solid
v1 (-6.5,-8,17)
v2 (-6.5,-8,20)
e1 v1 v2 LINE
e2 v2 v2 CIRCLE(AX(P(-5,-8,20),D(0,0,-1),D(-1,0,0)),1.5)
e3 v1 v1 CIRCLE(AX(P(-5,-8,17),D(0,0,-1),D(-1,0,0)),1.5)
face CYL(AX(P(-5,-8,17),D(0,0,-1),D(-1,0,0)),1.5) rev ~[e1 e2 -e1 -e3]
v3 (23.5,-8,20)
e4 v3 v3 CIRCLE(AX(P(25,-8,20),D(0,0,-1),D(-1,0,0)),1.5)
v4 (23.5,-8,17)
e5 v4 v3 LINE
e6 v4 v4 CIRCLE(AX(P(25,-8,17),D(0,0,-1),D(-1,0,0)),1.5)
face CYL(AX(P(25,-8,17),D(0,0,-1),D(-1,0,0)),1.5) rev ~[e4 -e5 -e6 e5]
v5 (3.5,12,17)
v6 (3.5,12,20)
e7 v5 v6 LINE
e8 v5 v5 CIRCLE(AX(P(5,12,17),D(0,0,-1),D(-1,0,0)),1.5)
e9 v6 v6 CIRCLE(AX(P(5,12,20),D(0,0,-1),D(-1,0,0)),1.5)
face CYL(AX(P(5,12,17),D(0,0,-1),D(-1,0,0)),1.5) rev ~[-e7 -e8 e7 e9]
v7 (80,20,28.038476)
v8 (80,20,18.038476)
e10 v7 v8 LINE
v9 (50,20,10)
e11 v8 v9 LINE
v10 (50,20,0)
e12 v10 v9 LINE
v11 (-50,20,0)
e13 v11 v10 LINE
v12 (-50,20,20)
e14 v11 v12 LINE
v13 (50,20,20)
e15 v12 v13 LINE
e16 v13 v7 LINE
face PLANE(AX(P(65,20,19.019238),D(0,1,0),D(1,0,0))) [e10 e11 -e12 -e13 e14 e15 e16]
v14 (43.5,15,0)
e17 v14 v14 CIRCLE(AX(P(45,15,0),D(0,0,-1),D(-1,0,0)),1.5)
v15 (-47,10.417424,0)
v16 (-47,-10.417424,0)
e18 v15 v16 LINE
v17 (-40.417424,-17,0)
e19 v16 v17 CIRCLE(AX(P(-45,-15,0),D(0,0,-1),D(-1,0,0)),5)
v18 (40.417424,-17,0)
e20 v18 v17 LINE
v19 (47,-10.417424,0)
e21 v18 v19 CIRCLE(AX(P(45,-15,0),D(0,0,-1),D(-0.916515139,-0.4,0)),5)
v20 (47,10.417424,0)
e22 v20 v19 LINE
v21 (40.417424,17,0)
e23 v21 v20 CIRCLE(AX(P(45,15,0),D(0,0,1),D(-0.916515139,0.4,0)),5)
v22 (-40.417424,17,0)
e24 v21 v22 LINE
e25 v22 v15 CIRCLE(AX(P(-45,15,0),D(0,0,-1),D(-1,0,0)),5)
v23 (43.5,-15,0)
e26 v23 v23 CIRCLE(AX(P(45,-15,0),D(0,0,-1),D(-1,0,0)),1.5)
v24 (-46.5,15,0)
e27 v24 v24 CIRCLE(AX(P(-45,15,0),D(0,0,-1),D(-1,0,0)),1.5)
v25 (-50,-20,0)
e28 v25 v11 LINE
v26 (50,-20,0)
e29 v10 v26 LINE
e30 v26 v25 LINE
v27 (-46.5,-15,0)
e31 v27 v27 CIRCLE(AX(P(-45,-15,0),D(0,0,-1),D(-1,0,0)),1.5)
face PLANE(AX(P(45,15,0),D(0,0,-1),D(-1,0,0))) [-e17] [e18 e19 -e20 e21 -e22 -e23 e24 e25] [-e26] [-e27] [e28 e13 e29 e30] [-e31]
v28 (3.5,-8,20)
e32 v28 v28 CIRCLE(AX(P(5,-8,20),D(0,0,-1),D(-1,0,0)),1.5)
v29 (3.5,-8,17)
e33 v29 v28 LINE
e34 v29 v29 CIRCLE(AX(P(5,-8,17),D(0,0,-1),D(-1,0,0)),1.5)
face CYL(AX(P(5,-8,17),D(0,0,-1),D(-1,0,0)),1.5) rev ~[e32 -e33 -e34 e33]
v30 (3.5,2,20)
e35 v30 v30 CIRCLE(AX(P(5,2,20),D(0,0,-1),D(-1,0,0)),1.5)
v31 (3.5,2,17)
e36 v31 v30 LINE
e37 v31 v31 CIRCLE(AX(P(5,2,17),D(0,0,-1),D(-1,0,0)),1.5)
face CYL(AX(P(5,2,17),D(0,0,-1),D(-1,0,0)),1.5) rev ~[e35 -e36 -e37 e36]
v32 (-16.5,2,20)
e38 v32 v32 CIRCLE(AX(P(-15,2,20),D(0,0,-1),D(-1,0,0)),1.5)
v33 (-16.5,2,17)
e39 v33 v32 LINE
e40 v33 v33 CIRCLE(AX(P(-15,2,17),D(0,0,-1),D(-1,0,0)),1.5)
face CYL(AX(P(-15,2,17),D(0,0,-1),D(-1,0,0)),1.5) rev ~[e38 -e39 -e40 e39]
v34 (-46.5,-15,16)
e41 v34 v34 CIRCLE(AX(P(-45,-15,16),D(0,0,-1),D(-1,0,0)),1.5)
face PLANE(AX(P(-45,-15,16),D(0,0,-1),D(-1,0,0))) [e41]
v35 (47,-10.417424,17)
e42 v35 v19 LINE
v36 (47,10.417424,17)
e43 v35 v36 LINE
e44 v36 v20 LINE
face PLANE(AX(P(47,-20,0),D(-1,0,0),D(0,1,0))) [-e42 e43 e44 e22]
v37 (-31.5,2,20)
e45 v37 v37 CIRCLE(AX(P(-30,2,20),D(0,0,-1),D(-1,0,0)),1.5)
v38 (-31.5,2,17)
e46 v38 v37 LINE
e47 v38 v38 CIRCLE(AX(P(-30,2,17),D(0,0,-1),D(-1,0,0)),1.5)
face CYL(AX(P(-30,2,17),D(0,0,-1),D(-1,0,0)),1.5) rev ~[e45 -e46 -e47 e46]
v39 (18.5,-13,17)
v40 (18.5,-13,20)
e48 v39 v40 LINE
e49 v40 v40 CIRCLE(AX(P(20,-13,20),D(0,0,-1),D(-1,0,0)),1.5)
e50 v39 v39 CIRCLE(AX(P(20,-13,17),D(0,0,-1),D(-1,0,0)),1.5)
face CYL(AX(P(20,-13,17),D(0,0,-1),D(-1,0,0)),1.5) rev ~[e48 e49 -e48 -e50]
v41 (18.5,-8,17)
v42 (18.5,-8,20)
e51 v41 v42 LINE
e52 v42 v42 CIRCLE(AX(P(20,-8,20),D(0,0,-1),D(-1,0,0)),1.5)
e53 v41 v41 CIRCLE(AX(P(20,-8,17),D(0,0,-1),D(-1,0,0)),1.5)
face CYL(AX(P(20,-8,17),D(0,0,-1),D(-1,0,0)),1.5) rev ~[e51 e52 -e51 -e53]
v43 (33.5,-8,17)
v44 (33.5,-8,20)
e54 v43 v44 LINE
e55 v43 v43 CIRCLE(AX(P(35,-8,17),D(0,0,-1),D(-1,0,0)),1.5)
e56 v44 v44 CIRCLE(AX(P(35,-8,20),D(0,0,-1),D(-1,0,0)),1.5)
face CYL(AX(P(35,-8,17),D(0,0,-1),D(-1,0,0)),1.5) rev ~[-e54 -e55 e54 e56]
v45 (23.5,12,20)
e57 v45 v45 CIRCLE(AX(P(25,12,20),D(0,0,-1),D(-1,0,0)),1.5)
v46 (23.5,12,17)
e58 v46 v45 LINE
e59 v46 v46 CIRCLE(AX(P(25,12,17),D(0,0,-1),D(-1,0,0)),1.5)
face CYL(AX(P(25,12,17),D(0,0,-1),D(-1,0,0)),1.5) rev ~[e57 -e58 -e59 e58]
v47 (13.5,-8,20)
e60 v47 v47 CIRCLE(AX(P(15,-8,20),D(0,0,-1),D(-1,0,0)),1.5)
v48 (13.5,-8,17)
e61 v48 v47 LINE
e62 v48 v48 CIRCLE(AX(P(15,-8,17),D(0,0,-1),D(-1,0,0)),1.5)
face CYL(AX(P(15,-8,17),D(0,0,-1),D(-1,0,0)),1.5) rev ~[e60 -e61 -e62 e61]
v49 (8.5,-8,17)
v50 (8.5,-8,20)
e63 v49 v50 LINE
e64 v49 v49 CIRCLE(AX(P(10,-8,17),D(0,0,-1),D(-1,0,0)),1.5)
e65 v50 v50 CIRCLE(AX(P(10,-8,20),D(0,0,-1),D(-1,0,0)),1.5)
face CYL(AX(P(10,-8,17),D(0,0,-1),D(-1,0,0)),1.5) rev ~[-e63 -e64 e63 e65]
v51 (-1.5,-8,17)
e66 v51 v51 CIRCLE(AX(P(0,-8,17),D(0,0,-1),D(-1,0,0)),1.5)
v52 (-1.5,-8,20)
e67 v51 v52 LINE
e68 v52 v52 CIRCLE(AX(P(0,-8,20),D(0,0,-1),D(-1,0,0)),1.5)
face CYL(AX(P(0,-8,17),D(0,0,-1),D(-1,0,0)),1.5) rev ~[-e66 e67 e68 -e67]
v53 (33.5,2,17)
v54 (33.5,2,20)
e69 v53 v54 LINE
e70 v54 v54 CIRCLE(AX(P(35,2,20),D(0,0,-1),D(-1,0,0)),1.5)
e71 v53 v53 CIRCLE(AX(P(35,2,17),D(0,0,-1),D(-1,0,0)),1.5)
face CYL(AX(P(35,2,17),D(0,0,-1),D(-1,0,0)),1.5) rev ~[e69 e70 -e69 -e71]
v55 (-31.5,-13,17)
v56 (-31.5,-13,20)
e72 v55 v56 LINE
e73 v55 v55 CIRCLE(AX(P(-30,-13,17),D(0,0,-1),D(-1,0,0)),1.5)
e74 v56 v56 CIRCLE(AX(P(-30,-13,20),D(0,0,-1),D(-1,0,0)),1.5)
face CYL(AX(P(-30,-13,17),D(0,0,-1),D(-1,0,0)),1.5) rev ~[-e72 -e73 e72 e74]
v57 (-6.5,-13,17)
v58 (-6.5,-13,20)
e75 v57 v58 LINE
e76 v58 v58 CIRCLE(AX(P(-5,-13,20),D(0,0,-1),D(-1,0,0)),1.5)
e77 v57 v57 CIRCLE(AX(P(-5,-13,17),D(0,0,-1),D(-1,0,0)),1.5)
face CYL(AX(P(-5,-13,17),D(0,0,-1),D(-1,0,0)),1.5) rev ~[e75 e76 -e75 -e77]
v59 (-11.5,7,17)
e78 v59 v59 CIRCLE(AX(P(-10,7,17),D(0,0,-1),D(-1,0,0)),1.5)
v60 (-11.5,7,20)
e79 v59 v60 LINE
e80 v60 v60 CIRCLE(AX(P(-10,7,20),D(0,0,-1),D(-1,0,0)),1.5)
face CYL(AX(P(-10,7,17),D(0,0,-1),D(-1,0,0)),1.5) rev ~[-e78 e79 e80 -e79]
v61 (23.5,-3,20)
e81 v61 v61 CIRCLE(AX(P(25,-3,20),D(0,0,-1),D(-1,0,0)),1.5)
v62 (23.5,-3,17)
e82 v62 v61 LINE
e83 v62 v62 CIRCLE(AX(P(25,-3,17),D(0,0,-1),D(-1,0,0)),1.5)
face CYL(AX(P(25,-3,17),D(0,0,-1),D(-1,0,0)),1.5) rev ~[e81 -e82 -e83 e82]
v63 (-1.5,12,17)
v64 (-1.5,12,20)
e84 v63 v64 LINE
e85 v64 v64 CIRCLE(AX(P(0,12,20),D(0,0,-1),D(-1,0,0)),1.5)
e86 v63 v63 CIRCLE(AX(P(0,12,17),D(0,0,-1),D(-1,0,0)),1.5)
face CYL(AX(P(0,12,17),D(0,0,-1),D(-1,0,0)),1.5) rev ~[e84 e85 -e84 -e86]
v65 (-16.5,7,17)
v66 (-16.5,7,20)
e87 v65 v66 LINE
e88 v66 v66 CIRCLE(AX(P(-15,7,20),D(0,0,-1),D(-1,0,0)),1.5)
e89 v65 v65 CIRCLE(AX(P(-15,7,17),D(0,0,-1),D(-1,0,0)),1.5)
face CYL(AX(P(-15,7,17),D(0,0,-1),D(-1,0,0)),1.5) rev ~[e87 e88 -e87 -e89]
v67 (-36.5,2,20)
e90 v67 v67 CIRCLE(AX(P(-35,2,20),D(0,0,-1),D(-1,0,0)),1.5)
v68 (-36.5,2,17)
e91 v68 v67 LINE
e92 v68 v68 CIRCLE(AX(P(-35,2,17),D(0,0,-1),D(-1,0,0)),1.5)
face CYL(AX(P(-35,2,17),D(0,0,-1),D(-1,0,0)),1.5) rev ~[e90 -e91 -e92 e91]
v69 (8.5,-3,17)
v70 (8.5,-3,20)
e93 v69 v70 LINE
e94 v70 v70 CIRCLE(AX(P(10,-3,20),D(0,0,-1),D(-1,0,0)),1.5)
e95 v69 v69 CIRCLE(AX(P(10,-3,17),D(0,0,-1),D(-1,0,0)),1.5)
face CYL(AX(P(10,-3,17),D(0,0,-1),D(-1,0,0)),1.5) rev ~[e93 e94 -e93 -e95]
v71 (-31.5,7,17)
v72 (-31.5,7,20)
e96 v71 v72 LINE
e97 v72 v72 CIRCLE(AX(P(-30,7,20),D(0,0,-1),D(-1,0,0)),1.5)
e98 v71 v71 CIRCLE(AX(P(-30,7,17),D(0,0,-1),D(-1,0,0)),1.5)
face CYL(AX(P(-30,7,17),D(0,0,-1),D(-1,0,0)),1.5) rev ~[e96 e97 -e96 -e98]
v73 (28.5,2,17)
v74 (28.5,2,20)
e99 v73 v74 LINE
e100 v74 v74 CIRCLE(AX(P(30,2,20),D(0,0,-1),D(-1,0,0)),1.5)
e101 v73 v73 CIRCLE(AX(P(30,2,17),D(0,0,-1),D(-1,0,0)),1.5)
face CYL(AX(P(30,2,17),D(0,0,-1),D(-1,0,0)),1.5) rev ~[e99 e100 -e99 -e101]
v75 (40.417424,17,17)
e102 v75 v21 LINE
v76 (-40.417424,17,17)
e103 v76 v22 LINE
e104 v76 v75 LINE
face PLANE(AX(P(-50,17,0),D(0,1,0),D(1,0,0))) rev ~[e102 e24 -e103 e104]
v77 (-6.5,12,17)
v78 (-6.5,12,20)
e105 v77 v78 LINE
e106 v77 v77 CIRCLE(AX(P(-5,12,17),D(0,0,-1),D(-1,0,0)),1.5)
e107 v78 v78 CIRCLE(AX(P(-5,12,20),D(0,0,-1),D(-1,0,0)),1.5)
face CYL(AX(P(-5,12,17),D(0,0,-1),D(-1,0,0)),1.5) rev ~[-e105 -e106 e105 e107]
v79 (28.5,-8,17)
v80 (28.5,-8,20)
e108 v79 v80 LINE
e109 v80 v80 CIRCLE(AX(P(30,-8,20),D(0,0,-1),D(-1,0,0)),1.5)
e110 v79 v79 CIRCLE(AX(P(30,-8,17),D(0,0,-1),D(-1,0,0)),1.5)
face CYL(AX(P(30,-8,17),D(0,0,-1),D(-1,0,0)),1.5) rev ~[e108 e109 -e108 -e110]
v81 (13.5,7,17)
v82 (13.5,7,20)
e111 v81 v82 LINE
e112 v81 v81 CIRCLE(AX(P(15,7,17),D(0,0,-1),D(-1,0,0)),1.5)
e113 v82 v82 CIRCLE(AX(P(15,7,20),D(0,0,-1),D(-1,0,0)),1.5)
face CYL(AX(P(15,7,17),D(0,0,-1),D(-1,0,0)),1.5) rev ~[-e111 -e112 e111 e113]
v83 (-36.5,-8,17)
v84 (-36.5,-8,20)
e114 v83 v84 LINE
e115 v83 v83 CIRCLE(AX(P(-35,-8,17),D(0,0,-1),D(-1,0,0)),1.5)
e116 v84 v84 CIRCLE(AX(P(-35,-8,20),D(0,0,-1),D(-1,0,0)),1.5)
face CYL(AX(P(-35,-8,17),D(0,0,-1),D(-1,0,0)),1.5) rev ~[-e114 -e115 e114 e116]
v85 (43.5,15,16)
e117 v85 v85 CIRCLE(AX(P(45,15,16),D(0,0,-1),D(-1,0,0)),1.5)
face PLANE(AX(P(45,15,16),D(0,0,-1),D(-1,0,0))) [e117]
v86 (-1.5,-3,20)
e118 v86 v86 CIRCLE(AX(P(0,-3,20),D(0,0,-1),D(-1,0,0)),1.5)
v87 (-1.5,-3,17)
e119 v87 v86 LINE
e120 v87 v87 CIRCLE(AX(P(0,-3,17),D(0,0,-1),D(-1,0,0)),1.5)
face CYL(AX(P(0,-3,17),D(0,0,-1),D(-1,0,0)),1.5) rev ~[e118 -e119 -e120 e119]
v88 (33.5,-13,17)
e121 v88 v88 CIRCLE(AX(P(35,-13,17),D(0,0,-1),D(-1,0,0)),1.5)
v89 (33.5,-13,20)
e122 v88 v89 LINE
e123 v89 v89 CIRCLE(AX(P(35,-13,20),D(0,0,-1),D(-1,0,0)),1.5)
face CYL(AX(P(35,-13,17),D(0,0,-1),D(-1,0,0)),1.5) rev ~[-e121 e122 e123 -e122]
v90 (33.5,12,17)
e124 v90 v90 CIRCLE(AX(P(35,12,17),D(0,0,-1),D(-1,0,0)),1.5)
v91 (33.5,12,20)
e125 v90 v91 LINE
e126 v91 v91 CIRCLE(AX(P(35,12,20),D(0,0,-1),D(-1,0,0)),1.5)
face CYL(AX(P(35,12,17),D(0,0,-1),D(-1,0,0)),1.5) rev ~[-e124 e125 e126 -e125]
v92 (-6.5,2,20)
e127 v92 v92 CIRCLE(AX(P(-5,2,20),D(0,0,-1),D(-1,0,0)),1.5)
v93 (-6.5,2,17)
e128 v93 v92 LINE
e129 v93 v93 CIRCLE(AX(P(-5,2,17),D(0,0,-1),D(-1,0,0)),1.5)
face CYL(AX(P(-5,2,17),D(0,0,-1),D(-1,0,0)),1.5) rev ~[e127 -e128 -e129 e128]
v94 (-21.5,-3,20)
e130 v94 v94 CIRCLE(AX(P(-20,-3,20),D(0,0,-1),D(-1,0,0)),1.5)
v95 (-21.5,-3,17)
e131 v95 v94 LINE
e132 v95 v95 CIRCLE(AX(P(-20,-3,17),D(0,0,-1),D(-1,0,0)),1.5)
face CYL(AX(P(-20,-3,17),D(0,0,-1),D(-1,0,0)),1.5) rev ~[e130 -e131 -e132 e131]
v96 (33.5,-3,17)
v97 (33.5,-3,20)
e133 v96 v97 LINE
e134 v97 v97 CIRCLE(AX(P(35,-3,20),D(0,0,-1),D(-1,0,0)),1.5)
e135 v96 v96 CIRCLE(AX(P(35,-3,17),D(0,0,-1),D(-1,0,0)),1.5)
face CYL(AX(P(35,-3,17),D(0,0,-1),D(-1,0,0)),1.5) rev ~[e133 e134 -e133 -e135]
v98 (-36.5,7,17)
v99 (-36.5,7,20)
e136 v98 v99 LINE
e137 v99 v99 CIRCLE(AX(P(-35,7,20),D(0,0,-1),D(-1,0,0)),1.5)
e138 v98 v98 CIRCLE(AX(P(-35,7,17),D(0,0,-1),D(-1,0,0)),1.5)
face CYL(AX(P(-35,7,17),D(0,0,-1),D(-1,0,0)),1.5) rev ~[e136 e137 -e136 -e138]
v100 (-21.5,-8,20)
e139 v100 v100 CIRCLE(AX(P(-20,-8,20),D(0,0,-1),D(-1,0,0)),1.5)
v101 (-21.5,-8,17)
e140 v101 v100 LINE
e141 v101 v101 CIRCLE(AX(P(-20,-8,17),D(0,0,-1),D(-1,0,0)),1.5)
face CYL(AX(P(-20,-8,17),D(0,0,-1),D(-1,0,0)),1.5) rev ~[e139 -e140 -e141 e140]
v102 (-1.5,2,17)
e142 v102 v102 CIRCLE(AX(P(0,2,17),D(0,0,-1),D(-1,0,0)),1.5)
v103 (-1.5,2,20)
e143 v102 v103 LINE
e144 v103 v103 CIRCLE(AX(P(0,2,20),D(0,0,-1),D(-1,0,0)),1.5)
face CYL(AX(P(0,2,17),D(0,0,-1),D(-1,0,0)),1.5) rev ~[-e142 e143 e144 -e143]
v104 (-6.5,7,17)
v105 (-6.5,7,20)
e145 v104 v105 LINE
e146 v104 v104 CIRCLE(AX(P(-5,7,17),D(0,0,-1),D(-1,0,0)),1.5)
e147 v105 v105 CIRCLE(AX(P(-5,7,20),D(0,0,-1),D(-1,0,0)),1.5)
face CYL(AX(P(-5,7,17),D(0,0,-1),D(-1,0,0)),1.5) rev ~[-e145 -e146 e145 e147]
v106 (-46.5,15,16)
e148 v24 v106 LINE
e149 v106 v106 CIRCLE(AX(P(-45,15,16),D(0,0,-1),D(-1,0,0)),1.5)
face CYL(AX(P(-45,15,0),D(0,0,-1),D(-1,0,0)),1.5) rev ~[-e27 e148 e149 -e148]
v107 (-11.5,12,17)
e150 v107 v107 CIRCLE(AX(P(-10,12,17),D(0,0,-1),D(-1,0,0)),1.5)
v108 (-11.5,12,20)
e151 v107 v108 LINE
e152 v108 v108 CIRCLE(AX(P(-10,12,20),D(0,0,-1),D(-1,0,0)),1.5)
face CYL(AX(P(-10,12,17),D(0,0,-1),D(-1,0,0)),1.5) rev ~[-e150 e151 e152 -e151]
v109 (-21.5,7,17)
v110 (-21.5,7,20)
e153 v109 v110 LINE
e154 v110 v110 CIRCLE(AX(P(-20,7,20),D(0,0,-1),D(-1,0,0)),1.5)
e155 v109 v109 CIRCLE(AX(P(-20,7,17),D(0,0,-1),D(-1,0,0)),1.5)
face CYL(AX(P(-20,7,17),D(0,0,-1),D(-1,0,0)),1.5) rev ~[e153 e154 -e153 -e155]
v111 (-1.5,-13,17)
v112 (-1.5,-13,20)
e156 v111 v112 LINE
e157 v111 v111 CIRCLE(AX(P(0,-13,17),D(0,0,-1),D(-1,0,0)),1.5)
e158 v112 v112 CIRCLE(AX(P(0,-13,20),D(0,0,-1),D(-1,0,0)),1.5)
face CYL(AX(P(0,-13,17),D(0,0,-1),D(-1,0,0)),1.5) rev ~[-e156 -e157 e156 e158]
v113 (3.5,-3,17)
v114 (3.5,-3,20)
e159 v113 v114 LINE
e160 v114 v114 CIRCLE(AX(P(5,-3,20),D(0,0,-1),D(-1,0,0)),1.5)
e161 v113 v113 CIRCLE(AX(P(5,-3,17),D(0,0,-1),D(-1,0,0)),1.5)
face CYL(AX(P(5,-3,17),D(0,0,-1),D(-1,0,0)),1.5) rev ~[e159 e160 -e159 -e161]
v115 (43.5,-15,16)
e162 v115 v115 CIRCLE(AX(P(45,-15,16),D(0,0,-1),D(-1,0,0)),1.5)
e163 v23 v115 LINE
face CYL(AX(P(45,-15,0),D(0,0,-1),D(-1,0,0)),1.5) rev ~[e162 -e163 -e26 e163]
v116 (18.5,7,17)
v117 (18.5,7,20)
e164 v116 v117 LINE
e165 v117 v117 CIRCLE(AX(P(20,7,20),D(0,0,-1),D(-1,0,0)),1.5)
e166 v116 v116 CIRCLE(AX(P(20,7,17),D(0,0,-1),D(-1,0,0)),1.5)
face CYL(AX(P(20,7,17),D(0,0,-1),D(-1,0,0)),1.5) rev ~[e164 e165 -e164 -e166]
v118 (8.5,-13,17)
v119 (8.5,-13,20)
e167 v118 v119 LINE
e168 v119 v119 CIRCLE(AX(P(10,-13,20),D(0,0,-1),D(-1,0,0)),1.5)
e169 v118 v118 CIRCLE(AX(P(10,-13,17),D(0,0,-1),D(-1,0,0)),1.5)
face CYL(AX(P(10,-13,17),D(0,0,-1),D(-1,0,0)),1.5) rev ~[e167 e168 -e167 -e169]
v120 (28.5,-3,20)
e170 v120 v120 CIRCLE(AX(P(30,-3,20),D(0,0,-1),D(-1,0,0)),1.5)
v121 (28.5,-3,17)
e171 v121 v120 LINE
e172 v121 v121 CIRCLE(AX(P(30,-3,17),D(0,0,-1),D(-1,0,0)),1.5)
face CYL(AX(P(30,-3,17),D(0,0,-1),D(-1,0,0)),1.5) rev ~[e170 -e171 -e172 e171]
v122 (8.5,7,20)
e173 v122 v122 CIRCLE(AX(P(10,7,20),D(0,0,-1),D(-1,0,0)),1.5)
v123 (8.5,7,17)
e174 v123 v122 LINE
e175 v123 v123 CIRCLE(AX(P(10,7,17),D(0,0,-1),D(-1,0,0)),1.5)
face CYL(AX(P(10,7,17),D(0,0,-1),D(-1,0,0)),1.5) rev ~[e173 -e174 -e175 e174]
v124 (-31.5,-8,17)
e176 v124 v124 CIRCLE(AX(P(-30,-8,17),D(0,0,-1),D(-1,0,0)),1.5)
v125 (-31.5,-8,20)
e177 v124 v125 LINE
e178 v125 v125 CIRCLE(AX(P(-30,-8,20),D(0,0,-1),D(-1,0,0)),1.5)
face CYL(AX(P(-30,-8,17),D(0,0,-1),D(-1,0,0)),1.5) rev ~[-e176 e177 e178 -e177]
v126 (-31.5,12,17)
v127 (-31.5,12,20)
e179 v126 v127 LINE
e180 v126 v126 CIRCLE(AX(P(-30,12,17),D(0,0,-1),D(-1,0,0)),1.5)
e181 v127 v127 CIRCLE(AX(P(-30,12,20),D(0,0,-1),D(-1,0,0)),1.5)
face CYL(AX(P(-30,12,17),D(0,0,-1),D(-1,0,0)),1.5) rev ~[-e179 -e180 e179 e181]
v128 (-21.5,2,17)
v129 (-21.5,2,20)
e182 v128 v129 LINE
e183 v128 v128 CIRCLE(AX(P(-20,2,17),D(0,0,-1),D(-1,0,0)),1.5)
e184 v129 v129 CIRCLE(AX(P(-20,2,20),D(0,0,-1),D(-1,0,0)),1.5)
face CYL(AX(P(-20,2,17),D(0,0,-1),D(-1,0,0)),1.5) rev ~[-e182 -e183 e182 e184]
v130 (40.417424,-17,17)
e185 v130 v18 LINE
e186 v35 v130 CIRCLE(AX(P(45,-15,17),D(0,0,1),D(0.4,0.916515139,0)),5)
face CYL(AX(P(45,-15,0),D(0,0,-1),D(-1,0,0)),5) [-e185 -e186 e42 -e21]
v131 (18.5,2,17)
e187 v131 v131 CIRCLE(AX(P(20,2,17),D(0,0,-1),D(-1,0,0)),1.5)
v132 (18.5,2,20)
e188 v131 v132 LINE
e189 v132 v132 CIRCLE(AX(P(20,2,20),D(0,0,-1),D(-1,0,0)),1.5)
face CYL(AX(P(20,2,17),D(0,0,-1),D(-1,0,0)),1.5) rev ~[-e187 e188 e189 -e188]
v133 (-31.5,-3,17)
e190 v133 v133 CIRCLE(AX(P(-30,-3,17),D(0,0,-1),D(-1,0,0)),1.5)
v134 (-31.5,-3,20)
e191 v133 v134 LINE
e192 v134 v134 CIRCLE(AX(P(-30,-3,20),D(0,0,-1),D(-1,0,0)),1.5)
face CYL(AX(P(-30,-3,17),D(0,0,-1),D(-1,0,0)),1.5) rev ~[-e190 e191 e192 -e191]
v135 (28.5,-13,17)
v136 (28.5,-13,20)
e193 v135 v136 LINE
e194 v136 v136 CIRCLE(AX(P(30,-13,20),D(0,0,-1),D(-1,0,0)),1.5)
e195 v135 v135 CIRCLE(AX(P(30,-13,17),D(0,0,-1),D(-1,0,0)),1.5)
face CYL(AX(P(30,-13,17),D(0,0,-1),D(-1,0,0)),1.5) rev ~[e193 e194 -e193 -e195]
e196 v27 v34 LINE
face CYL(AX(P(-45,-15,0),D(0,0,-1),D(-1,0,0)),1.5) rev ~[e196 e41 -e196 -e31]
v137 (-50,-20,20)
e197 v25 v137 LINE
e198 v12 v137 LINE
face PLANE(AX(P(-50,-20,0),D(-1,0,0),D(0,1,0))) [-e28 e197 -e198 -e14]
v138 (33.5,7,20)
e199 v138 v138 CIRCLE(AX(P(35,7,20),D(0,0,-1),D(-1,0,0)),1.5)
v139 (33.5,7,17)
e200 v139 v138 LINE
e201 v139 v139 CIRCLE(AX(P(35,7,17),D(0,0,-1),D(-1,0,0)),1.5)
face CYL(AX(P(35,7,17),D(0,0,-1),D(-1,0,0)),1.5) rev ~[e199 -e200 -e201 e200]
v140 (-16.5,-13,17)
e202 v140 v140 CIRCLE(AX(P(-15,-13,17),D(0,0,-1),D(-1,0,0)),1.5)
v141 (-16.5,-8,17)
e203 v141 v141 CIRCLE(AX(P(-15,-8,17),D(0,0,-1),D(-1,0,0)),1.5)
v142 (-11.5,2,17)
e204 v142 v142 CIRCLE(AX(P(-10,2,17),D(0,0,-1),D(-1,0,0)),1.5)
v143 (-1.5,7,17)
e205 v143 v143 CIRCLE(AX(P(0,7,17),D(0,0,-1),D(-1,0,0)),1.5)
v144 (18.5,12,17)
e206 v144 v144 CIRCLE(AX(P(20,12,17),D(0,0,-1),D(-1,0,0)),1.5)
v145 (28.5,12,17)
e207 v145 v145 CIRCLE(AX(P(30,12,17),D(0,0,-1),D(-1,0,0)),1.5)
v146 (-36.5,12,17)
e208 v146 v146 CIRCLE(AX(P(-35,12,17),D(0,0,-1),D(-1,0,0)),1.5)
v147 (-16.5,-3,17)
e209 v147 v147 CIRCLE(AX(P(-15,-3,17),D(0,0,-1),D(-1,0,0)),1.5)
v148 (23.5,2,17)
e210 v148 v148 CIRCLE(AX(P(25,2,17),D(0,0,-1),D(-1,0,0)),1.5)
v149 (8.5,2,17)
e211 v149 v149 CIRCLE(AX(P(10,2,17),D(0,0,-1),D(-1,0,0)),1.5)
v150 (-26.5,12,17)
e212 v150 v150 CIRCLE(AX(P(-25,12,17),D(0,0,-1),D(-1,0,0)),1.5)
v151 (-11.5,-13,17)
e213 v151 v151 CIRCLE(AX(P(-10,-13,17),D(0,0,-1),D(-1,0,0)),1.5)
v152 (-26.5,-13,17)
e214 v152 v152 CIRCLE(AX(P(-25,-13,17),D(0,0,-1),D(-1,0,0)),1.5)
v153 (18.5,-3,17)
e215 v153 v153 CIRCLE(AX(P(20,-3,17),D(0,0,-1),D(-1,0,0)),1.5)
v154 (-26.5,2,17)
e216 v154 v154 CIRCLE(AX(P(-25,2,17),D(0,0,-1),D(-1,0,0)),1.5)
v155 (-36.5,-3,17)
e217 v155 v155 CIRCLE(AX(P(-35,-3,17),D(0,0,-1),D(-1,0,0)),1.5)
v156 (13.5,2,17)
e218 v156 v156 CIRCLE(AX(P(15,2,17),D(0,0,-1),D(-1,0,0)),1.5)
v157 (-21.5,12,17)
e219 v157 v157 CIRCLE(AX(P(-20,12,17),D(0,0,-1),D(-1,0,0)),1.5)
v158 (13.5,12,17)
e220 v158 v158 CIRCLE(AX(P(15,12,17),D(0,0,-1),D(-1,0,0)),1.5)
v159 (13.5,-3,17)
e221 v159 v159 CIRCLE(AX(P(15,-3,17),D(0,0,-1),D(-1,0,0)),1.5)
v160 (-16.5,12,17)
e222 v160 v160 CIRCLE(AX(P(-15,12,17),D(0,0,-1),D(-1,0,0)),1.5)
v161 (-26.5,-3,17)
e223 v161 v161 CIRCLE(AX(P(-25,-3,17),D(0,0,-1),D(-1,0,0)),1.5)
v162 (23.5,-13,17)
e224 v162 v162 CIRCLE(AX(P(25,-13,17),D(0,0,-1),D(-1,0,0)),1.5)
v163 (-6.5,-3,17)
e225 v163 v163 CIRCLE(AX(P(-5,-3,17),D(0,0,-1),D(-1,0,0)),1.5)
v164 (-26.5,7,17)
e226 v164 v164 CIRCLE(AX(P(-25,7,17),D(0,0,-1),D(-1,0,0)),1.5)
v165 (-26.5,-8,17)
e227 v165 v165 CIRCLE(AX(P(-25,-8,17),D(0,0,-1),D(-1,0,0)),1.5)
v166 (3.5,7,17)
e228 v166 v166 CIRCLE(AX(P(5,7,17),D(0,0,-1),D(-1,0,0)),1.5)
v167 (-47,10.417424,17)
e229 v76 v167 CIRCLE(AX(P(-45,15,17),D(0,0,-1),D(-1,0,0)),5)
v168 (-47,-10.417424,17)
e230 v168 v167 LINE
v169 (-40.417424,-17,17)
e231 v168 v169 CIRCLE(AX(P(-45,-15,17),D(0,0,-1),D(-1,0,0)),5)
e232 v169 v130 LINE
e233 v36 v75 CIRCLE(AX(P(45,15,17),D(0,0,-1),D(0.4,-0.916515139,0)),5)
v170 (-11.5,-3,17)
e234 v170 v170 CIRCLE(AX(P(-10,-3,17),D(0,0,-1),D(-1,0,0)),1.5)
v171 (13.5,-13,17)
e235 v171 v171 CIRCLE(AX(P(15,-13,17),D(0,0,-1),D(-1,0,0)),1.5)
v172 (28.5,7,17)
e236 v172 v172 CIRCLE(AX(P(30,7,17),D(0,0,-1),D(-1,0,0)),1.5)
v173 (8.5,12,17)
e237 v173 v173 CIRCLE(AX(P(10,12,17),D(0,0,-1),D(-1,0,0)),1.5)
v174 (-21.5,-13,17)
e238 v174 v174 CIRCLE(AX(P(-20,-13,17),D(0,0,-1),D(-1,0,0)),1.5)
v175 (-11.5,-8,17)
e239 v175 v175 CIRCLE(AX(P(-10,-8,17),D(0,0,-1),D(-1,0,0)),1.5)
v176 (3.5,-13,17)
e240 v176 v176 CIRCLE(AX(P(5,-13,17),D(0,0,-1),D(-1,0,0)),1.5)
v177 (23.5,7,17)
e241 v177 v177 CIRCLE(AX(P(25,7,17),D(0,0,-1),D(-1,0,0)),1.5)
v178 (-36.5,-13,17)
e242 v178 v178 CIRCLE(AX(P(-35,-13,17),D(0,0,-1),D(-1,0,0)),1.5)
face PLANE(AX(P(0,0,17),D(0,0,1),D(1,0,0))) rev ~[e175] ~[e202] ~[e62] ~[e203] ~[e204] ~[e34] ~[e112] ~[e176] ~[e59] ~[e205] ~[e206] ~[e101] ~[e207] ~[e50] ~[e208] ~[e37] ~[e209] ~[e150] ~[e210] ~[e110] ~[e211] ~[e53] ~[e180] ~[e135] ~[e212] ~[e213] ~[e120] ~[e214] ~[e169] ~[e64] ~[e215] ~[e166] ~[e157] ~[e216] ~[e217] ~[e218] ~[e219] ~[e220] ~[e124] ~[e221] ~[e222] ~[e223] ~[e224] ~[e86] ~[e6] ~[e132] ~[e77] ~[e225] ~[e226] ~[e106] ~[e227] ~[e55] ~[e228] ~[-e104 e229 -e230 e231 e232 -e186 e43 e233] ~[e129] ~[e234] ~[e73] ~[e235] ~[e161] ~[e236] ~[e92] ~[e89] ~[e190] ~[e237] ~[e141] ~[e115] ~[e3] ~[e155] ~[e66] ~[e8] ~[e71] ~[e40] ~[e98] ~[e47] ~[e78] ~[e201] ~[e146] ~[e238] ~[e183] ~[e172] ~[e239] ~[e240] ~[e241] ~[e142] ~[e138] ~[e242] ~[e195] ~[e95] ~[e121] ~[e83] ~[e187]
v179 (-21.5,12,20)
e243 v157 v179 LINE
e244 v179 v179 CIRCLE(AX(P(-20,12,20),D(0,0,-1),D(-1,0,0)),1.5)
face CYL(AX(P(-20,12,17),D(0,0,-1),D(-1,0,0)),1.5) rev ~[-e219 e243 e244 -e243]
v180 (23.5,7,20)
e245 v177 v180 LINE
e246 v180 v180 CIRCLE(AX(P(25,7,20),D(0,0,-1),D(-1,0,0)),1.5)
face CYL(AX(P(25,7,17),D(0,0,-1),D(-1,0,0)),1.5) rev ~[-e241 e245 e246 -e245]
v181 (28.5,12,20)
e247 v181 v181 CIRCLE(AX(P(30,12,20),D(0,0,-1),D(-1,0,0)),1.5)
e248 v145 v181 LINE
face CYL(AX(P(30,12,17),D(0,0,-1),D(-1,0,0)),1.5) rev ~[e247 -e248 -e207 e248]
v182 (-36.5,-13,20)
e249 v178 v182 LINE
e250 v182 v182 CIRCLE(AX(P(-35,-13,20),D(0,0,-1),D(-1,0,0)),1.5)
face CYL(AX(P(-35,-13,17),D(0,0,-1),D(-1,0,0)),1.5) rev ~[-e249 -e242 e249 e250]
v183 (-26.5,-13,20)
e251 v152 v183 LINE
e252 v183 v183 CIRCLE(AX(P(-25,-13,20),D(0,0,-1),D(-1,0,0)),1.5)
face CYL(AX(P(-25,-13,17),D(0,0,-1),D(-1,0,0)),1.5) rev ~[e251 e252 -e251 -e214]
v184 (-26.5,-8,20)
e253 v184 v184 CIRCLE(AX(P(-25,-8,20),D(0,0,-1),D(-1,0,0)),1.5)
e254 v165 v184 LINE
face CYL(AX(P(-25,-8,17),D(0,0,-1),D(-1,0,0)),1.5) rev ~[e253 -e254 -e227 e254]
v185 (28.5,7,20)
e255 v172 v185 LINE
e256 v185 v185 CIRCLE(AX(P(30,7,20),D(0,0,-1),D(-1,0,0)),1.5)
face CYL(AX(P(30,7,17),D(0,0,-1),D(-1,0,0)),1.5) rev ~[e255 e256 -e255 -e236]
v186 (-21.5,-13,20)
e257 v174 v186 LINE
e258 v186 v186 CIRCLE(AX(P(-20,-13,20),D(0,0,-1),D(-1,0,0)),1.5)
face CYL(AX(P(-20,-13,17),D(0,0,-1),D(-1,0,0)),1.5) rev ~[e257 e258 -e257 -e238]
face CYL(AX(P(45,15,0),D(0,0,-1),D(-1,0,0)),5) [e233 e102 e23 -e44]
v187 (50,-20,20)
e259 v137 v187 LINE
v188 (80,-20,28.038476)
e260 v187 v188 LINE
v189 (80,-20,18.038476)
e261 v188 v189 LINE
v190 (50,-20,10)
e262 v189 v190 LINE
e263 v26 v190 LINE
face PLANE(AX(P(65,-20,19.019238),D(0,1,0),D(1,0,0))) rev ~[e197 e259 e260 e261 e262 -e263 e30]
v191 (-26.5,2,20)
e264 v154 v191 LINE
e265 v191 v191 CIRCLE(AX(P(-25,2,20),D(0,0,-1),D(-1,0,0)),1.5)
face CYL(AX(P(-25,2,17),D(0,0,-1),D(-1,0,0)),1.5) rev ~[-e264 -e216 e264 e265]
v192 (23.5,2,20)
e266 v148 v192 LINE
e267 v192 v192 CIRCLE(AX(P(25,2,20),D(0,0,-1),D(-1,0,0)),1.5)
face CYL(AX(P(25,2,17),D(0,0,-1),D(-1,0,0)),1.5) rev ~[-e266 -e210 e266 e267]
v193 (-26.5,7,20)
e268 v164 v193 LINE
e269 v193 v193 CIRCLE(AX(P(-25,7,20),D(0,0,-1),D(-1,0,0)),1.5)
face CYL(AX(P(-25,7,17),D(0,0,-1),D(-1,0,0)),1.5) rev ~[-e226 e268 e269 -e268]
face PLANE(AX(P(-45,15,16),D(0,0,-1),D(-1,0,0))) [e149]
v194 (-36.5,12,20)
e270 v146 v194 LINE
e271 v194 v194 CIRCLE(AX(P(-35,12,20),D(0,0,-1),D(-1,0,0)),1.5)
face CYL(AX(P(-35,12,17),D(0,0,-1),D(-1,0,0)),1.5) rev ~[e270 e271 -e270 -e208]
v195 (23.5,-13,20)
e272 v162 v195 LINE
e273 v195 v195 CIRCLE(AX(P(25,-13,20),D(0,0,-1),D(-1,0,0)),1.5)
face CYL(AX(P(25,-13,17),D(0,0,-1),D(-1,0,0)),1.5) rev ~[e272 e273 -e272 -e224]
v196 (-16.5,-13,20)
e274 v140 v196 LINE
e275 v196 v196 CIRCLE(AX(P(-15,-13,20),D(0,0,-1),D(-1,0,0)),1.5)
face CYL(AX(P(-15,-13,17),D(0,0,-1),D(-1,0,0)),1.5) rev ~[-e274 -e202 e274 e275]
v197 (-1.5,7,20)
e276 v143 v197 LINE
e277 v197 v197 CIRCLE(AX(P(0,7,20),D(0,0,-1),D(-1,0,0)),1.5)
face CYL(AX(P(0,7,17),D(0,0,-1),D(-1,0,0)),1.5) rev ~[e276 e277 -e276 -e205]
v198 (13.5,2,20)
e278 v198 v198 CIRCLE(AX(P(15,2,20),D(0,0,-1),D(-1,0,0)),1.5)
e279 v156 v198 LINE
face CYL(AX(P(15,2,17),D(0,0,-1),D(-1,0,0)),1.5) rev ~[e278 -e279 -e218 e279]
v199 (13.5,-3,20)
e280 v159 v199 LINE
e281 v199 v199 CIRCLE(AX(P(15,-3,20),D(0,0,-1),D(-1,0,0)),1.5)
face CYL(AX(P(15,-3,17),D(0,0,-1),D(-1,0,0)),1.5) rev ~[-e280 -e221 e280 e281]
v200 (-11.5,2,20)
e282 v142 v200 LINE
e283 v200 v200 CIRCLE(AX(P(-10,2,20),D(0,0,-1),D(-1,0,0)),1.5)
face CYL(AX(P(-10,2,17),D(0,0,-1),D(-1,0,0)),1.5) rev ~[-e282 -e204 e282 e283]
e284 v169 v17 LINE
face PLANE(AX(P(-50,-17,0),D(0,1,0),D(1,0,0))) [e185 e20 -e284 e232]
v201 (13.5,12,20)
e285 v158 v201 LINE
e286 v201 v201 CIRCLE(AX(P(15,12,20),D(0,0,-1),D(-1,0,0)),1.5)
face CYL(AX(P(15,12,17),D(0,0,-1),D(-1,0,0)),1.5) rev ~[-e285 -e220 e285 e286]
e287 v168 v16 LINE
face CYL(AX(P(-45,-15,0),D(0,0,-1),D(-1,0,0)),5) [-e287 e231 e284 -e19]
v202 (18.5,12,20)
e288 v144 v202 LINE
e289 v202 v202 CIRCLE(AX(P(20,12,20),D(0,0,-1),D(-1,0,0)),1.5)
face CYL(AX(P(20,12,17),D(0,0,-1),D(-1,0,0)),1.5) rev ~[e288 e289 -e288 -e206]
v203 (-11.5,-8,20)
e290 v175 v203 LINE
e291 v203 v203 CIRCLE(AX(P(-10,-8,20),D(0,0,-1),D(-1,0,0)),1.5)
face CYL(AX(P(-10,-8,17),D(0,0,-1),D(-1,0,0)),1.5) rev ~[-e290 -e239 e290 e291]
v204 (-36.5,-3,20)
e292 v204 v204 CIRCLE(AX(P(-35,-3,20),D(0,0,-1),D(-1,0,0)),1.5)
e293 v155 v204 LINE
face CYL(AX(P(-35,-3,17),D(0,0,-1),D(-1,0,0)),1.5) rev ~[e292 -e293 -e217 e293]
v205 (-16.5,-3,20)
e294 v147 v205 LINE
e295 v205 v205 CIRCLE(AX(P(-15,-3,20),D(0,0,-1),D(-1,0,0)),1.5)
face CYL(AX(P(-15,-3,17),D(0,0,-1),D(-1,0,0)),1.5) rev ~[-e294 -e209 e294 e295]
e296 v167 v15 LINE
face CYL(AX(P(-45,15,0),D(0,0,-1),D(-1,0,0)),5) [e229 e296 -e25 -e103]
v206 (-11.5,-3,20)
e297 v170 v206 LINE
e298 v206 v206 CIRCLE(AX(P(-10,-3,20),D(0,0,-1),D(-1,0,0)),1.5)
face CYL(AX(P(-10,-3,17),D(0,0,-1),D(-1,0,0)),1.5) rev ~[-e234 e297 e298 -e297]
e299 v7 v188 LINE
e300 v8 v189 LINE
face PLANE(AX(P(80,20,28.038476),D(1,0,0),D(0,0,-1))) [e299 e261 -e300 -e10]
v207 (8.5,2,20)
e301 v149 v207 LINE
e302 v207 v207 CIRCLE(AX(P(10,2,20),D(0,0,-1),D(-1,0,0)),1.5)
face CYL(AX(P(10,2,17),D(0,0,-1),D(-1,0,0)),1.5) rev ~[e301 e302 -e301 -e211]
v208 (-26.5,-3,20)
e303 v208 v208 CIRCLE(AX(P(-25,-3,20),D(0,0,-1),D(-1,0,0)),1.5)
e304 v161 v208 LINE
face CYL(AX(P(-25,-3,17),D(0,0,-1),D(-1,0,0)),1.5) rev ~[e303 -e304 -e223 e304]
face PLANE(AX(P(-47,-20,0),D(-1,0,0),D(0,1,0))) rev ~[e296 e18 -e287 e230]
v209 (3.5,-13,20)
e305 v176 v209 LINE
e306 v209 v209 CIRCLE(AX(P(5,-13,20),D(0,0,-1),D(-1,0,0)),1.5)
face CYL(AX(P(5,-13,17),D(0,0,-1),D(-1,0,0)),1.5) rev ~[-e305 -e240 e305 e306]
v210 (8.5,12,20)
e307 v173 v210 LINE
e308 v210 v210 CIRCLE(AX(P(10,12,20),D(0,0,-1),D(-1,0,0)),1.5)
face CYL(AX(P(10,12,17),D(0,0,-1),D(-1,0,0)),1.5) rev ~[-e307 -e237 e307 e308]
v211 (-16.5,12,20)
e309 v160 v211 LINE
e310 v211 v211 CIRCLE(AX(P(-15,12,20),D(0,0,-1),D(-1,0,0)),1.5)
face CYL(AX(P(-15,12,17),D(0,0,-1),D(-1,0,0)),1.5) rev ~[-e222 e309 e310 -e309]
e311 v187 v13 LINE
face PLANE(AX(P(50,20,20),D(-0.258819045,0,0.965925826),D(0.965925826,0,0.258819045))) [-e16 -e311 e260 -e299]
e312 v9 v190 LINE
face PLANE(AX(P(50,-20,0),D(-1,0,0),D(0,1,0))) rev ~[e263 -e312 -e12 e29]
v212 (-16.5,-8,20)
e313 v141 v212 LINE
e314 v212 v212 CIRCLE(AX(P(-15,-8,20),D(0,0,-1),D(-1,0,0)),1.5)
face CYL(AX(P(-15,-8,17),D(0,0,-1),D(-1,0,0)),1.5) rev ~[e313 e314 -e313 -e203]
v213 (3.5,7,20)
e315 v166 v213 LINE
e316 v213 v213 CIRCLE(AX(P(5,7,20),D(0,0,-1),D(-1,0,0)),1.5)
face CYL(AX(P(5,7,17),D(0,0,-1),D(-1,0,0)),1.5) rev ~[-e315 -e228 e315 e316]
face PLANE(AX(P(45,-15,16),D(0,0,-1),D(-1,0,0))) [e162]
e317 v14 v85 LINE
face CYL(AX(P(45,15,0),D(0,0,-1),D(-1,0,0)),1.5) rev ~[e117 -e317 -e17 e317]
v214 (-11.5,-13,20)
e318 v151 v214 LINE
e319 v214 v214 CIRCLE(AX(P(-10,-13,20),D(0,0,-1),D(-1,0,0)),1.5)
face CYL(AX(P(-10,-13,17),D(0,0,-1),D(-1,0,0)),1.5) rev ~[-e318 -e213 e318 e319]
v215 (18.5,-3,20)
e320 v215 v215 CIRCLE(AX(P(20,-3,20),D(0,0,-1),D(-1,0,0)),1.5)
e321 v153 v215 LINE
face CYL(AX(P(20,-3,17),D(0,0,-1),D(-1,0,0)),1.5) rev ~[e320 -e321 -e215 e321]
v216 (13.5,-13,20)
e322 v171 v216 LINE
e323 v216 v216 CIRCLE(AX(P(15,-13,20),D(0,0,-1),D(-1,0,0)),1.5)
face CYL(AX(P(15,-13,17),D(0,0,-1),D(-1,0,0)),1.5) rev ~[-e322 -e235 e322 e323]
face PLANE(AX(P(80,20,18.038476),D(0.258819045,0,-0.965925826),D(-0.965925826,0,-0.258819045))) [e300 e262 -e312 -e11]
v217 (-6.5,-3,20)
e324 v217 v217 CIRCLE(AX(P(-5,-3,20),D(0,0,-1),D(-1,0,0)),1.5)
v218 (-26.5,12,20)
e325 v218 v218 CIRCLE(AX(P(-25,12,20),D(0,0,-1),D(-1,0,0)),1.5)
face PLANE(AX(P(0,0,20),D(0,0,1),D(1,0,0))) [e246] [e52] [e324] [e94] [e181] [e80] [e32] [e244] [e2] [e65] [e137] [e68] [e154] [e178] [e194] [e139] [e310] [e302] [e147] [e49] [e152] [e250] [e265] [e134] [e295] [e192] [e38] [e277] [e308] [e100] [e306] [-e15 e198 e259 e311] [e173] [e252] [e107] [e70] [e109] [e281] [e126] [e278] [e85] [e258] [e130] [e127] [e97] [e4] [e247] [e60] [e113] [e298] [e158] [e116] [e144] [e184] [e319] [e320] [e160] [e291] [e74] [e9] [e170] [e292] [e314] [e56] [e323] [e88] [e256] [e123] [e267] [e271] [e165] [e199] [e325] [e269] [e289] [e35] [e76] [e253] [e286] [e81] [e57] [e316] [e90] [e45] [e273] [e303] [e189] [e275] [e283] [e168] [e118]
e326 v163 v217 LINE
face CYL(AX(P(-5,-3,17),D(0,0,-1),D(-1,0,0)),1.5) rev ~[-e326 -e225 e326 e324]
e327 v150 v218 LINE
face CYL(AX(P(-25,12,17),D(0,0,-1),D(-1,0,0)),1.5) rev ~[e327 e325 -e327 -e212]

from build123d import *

# Parameters (mm, degrees)
SKETCH_1_W          = 100
SKETCH_1_H          = 40
EXTRUDE_1_DEPTH     = 20
SHELL_1_T           = -3
EXTRUDE_2_DEPTH     = 40
SKETCH_4_R          = 5
EXTRUDE_3_DEPTH     = 20
SKETCH_5_R          = 1.5
CUT_EXTRUDE_1_DEPTH = 16
SKETCH_6_R          = 1.5
CUT_EXTRUDE_2_DEPTH = 10


with BuildPart() as part:
    # 草图1 → 凸台-拉伸1 (new body)
    with BuildSketch(Plane.XY):
        Rectangle(SKETCH_1_W, SKETCH_1_H)
    extrude(amount=EXTRUDE_1_DEPTH)

    # 抽壳1
    shell_1_openings = [part.faces().sort_by_distance(p)[0] for p in [
        (0, 0, 0),
    ]]
    offset(amount=SHELL_1_T, openings=shell_1_openings, kind=Kind.INTERSECTION)

    # 草图3 → 凸台-拉伸2 (add)
    with BuildSketch(Plane(origin=(0, 20, 0), x_dir=(1, 0, 0), z_dir=(0, 1, 0))):
        Polygon((50, -20), (80, -28.038475773), (80, -18.038475773), (50, -10), align=None)
    extrude(amount=-EXTRUDE_2_DEPTH)

    # 草图4 → 凸台-拉伸3 (add)
    with BuildSketch(Plane(origin=(0, 0, 0), x_dir=(-1, 0, 0), z_dir=(0, 0, -1))):
        with Locations((-45, 15)):
            Circle(SKETCH_4_R)
        with Locations((45, 15)):
            Circle(SKETCH_4_R)
        with Locations((45, -15)):
            Circle(SKETCH_4_R)
        with Locations((-45, -15)):
            Circle(SKETCH_4_R)
    extrude(amount=-EXTRUDE_3_DEPTH)

    # 草图5 → 切除-拉伸1 (cut)
    with BuildSketch(Plane(origin=(0, 0, 0), x_dir=(-1, 0, 0), z_dir=(0, 0, -1))):
        with Locations((-45, 15)):
            Circle(SKETCH_5_R)
        with Locations((45, 15)):
            Circle(SKETCH_5_R)
        with Locations((45, -15)):
            Circle(SKETCH_5_R)
        with Locations((-45, -15)):
            Circle(SKETCH_5_R)
    extrude(amount=-CUT_EXTRUDE_1_DEPTH, mode=Mode.SUBTRACT)

    # 草图6 → 切除-拉伸2 (cut)
    with BuildSketch(Plane(origin=(0, 0, 17), x_dir=(-1, 0, 0), z_dir=(0, 0, -1))):
        with Locations((35, 12)):
            Circle(SKETCH_6_R)
        with Locations((30, 12)):
            Circle(SKETCH_6_R)
        with Locations((25, 12)):
            Circle(SKETCH_6_R)
        with Locations((20, 12)):
            Circle(SKETCH_6_R)
        with Locations((15, 12)):
            Circle(SKETCH_6_R)
        with Locations((10, 12)):
            Circle(SKETCH_6_R)
        with Locations((5, 12)):
            Circle(SKETCH_6_R)
        with Locations((0, 12)):
            Circle(SKETCH_6_R)
        with Locations((-5, 12)):
            Circle(SKETCH_6_R)
        with Locations((-10, 12)):
            Circle(SKETCH_6_R)
        with Locations((-15, 12)):
            Circle(SKETCH_6_R)
        with Locations((-20, 12)):
            Circle(SKETCH_6_R)
        with Locations((-25, 12)):
            Circle(SKETCH_6_R)
        with Locations((-30, 12)):
            Circle(SKETCH_6_R)
        with Locations((-35, 12)):
            Circle(SKETCH_6_R)
        with Locations((30, 7)):
            Circle(SKETCH_6_R)
        with Locations((25, 7)):
            Circle(SKETCH_6_R)
        with Locations((20, 7)):
            Circle(SKETCH_6_R)
        with Locations((15, 7)):
            Circle(SKETCH_6_R)
        with Locations((10, 7)):
            Circle(SKETCH_6_R)
        with Locations((5, 7)):
            Circle(SKETCH_6_R)
        with Locations((0, 7)):
            Circle(SKETCH_6_R)
        with Locations((-5, 7)):
            Circle(SKETCH_6_R)
        with Locations((-10, 7)):
            Circle(SKETCH_6_R)
        with Locations((-15, 7)):
            Circle(SKETCH_6_R)
        with Locations((-20, 7)):
            Circle(SKETCH_6_R)
        with Locations((-25, 7)):
            Circle(SKETCH_6_R)
        with Locations((-30, 7)):
            Circle(SKETCH_6_R)
        with Locations((-35, 7)):
            Circle(SKETCH_6_R)
        with Locations((30, 2)):
            Circle(SKETCH_6_R)
        with Locations((25, 2)):
            Circle(SKETCH_6_R)
        with Locations((20, 2)):
            Circle(SKETCH_6_R)
        with Locations((15, 2)):
            Circle(SKETCH_6_R)
        with Locations((10, 2)):
            Circle(SKETCH_6_R)
        with Locations((5, 2)):
            Circle(SKETCH_6_R)
        with Locations((0, 2)):
            Circle(SKETCH_6_R)
        with Locations((-5, 2)):
            Circle(SKETCH_6_R)
        with Locations((-10, 2)):
            Circle(SKETCH_6_R)
        with Locations((-15, 2)):
            Circle(SKETCH_6_R)
        with Locations((-20, 2)):
            Circle(SKETCH_6_R)
        with Locations((-25, 2)):
            Circle(SKETCH_6_R)
        with Locations((-30, 2)):
            Circle(SKETCH_6_R)
        with Locations((-35, 2)):
            Circle(SKETCH_6_R)
        with Locations((30, -3)):
            Circle(SKETCH_6_R)
        with Locations((25, -3)):
            Circle(SKETCH_6_R)
        with Locations((20, -3)):
            Circle(SKETCH_6_R)
        with Locations((15, -3)):
            Circle(SKETCH_6_R)
        with Locations((10, -3)):
            Circle(SKETCH_6_R)
        with Locations((5, -3)):
            Circle(SKETCH_6_R)
        with Locations((0, -3)):
            Circle(SKETCH_6_R)
        with Locations((-5, -3)):
            Circle(SKETCH_6_R)
        with Locations((-10, -3)):
            Circle(SKETCH_6_R)
        with Locations((-15, -3)):
            Circle(SKETCH_6_R)
        with Locations((-20, -3)):
            Circle(SKETCH_6_R)
        with Locations((-25, -3)):
            Circle(SKETCH_6_R)
        with Locations((-30, -3)):
            Circle(SKETCH_6_R)
        with Locations((-35, -3)):
            Circle(SKETCH_6_R)
        with Locations((30, -8)):
            Circle(SKETCH_6_R)
        with Locations((25, -8)):
            Circle(SKETCH_6_R)
        with Locations((20, -8)):
            Circle(SKETCH_6_R)
        with Locations((15, -8)):
            Circle(SKETCH_6_R)
        with Locations((10, -8)):
            Circle(SKETCH_6_R)
        with Locations((5, -8)):
            Circle(SKETCH_6_R)
        with Locations((0, -8)):
            Circle(SKETCH_6_R)
        with Locations((-5, -8)):
            Circle(SKETCH_6_R)
        with Locations((-10, -8)):
            Circle(SKETCH_6_R)
        with Locations((-15, -8)):
            Circle(SKETCH_6_R)
        with Locations((-20, -8)):
            Circle(SKETCH_6_R)
        with Locations((-25, -8)):
            Circle(SKETCH_6_R)
        with Locations((-30, -8)):
            Circle(SKETCH_6_R)
        with Locations((-35, -8)):
            Circle(SKETCH_6_R)
        with Locations((30, -13)):
            Circle(SKETCH_6_R)
        with Locations((25, -13)):
            Circle(SKETCH_6_R)
        with Locations((20, -13)):
            Circle(SKETCH_6_R)
        with Locations((15, -13)):
            Circle(SKETCH_6_R)
        with Locations((10, -13)):
            Circle(SKETCH_6_R)
        with Locations((5, -13)):
            Circle(SKETCH_6_R)
        with Locations((0, -13)):
            Circle(SKETCH_6_R)
        with Locations((-5, -13)):
            Circle(SKETCH_6_R)
        with Locations((-10, -13)):
            Circle(SKETCH_6_R)
        with Locations((-15, -13)):
            Circle(SKETCH_6_R)
        with Locations((-20, -13)):
            Circle(SKETCH_6_R)
        with Locations((-25, -13)):
            Circle(SKETCH_6_R)
        with Locations((-30, -13)):
            Circle(SKETCH_6_R)
        with Locations((-35, -13)):
            Circle(SKETCH_6_R)
        with Locations((35, 7)):
            Circle(SKETCH_6_R)
        with Locations((35, 2)):
            Circle(SKETCH_6_R)
        with Locations((35, -3)):
            Circle(SKETCH_6_R)
        with Locations((35, -8)):
            Circle(SKETCH_6_R)
        with Locations((35, -13)):
            Circle(SKETCH_6_R)
    extrude(amount=-CUT_EXTRUDE_2_DEPTH, mode=Mode.SUBTRACT)


solid = part.part
